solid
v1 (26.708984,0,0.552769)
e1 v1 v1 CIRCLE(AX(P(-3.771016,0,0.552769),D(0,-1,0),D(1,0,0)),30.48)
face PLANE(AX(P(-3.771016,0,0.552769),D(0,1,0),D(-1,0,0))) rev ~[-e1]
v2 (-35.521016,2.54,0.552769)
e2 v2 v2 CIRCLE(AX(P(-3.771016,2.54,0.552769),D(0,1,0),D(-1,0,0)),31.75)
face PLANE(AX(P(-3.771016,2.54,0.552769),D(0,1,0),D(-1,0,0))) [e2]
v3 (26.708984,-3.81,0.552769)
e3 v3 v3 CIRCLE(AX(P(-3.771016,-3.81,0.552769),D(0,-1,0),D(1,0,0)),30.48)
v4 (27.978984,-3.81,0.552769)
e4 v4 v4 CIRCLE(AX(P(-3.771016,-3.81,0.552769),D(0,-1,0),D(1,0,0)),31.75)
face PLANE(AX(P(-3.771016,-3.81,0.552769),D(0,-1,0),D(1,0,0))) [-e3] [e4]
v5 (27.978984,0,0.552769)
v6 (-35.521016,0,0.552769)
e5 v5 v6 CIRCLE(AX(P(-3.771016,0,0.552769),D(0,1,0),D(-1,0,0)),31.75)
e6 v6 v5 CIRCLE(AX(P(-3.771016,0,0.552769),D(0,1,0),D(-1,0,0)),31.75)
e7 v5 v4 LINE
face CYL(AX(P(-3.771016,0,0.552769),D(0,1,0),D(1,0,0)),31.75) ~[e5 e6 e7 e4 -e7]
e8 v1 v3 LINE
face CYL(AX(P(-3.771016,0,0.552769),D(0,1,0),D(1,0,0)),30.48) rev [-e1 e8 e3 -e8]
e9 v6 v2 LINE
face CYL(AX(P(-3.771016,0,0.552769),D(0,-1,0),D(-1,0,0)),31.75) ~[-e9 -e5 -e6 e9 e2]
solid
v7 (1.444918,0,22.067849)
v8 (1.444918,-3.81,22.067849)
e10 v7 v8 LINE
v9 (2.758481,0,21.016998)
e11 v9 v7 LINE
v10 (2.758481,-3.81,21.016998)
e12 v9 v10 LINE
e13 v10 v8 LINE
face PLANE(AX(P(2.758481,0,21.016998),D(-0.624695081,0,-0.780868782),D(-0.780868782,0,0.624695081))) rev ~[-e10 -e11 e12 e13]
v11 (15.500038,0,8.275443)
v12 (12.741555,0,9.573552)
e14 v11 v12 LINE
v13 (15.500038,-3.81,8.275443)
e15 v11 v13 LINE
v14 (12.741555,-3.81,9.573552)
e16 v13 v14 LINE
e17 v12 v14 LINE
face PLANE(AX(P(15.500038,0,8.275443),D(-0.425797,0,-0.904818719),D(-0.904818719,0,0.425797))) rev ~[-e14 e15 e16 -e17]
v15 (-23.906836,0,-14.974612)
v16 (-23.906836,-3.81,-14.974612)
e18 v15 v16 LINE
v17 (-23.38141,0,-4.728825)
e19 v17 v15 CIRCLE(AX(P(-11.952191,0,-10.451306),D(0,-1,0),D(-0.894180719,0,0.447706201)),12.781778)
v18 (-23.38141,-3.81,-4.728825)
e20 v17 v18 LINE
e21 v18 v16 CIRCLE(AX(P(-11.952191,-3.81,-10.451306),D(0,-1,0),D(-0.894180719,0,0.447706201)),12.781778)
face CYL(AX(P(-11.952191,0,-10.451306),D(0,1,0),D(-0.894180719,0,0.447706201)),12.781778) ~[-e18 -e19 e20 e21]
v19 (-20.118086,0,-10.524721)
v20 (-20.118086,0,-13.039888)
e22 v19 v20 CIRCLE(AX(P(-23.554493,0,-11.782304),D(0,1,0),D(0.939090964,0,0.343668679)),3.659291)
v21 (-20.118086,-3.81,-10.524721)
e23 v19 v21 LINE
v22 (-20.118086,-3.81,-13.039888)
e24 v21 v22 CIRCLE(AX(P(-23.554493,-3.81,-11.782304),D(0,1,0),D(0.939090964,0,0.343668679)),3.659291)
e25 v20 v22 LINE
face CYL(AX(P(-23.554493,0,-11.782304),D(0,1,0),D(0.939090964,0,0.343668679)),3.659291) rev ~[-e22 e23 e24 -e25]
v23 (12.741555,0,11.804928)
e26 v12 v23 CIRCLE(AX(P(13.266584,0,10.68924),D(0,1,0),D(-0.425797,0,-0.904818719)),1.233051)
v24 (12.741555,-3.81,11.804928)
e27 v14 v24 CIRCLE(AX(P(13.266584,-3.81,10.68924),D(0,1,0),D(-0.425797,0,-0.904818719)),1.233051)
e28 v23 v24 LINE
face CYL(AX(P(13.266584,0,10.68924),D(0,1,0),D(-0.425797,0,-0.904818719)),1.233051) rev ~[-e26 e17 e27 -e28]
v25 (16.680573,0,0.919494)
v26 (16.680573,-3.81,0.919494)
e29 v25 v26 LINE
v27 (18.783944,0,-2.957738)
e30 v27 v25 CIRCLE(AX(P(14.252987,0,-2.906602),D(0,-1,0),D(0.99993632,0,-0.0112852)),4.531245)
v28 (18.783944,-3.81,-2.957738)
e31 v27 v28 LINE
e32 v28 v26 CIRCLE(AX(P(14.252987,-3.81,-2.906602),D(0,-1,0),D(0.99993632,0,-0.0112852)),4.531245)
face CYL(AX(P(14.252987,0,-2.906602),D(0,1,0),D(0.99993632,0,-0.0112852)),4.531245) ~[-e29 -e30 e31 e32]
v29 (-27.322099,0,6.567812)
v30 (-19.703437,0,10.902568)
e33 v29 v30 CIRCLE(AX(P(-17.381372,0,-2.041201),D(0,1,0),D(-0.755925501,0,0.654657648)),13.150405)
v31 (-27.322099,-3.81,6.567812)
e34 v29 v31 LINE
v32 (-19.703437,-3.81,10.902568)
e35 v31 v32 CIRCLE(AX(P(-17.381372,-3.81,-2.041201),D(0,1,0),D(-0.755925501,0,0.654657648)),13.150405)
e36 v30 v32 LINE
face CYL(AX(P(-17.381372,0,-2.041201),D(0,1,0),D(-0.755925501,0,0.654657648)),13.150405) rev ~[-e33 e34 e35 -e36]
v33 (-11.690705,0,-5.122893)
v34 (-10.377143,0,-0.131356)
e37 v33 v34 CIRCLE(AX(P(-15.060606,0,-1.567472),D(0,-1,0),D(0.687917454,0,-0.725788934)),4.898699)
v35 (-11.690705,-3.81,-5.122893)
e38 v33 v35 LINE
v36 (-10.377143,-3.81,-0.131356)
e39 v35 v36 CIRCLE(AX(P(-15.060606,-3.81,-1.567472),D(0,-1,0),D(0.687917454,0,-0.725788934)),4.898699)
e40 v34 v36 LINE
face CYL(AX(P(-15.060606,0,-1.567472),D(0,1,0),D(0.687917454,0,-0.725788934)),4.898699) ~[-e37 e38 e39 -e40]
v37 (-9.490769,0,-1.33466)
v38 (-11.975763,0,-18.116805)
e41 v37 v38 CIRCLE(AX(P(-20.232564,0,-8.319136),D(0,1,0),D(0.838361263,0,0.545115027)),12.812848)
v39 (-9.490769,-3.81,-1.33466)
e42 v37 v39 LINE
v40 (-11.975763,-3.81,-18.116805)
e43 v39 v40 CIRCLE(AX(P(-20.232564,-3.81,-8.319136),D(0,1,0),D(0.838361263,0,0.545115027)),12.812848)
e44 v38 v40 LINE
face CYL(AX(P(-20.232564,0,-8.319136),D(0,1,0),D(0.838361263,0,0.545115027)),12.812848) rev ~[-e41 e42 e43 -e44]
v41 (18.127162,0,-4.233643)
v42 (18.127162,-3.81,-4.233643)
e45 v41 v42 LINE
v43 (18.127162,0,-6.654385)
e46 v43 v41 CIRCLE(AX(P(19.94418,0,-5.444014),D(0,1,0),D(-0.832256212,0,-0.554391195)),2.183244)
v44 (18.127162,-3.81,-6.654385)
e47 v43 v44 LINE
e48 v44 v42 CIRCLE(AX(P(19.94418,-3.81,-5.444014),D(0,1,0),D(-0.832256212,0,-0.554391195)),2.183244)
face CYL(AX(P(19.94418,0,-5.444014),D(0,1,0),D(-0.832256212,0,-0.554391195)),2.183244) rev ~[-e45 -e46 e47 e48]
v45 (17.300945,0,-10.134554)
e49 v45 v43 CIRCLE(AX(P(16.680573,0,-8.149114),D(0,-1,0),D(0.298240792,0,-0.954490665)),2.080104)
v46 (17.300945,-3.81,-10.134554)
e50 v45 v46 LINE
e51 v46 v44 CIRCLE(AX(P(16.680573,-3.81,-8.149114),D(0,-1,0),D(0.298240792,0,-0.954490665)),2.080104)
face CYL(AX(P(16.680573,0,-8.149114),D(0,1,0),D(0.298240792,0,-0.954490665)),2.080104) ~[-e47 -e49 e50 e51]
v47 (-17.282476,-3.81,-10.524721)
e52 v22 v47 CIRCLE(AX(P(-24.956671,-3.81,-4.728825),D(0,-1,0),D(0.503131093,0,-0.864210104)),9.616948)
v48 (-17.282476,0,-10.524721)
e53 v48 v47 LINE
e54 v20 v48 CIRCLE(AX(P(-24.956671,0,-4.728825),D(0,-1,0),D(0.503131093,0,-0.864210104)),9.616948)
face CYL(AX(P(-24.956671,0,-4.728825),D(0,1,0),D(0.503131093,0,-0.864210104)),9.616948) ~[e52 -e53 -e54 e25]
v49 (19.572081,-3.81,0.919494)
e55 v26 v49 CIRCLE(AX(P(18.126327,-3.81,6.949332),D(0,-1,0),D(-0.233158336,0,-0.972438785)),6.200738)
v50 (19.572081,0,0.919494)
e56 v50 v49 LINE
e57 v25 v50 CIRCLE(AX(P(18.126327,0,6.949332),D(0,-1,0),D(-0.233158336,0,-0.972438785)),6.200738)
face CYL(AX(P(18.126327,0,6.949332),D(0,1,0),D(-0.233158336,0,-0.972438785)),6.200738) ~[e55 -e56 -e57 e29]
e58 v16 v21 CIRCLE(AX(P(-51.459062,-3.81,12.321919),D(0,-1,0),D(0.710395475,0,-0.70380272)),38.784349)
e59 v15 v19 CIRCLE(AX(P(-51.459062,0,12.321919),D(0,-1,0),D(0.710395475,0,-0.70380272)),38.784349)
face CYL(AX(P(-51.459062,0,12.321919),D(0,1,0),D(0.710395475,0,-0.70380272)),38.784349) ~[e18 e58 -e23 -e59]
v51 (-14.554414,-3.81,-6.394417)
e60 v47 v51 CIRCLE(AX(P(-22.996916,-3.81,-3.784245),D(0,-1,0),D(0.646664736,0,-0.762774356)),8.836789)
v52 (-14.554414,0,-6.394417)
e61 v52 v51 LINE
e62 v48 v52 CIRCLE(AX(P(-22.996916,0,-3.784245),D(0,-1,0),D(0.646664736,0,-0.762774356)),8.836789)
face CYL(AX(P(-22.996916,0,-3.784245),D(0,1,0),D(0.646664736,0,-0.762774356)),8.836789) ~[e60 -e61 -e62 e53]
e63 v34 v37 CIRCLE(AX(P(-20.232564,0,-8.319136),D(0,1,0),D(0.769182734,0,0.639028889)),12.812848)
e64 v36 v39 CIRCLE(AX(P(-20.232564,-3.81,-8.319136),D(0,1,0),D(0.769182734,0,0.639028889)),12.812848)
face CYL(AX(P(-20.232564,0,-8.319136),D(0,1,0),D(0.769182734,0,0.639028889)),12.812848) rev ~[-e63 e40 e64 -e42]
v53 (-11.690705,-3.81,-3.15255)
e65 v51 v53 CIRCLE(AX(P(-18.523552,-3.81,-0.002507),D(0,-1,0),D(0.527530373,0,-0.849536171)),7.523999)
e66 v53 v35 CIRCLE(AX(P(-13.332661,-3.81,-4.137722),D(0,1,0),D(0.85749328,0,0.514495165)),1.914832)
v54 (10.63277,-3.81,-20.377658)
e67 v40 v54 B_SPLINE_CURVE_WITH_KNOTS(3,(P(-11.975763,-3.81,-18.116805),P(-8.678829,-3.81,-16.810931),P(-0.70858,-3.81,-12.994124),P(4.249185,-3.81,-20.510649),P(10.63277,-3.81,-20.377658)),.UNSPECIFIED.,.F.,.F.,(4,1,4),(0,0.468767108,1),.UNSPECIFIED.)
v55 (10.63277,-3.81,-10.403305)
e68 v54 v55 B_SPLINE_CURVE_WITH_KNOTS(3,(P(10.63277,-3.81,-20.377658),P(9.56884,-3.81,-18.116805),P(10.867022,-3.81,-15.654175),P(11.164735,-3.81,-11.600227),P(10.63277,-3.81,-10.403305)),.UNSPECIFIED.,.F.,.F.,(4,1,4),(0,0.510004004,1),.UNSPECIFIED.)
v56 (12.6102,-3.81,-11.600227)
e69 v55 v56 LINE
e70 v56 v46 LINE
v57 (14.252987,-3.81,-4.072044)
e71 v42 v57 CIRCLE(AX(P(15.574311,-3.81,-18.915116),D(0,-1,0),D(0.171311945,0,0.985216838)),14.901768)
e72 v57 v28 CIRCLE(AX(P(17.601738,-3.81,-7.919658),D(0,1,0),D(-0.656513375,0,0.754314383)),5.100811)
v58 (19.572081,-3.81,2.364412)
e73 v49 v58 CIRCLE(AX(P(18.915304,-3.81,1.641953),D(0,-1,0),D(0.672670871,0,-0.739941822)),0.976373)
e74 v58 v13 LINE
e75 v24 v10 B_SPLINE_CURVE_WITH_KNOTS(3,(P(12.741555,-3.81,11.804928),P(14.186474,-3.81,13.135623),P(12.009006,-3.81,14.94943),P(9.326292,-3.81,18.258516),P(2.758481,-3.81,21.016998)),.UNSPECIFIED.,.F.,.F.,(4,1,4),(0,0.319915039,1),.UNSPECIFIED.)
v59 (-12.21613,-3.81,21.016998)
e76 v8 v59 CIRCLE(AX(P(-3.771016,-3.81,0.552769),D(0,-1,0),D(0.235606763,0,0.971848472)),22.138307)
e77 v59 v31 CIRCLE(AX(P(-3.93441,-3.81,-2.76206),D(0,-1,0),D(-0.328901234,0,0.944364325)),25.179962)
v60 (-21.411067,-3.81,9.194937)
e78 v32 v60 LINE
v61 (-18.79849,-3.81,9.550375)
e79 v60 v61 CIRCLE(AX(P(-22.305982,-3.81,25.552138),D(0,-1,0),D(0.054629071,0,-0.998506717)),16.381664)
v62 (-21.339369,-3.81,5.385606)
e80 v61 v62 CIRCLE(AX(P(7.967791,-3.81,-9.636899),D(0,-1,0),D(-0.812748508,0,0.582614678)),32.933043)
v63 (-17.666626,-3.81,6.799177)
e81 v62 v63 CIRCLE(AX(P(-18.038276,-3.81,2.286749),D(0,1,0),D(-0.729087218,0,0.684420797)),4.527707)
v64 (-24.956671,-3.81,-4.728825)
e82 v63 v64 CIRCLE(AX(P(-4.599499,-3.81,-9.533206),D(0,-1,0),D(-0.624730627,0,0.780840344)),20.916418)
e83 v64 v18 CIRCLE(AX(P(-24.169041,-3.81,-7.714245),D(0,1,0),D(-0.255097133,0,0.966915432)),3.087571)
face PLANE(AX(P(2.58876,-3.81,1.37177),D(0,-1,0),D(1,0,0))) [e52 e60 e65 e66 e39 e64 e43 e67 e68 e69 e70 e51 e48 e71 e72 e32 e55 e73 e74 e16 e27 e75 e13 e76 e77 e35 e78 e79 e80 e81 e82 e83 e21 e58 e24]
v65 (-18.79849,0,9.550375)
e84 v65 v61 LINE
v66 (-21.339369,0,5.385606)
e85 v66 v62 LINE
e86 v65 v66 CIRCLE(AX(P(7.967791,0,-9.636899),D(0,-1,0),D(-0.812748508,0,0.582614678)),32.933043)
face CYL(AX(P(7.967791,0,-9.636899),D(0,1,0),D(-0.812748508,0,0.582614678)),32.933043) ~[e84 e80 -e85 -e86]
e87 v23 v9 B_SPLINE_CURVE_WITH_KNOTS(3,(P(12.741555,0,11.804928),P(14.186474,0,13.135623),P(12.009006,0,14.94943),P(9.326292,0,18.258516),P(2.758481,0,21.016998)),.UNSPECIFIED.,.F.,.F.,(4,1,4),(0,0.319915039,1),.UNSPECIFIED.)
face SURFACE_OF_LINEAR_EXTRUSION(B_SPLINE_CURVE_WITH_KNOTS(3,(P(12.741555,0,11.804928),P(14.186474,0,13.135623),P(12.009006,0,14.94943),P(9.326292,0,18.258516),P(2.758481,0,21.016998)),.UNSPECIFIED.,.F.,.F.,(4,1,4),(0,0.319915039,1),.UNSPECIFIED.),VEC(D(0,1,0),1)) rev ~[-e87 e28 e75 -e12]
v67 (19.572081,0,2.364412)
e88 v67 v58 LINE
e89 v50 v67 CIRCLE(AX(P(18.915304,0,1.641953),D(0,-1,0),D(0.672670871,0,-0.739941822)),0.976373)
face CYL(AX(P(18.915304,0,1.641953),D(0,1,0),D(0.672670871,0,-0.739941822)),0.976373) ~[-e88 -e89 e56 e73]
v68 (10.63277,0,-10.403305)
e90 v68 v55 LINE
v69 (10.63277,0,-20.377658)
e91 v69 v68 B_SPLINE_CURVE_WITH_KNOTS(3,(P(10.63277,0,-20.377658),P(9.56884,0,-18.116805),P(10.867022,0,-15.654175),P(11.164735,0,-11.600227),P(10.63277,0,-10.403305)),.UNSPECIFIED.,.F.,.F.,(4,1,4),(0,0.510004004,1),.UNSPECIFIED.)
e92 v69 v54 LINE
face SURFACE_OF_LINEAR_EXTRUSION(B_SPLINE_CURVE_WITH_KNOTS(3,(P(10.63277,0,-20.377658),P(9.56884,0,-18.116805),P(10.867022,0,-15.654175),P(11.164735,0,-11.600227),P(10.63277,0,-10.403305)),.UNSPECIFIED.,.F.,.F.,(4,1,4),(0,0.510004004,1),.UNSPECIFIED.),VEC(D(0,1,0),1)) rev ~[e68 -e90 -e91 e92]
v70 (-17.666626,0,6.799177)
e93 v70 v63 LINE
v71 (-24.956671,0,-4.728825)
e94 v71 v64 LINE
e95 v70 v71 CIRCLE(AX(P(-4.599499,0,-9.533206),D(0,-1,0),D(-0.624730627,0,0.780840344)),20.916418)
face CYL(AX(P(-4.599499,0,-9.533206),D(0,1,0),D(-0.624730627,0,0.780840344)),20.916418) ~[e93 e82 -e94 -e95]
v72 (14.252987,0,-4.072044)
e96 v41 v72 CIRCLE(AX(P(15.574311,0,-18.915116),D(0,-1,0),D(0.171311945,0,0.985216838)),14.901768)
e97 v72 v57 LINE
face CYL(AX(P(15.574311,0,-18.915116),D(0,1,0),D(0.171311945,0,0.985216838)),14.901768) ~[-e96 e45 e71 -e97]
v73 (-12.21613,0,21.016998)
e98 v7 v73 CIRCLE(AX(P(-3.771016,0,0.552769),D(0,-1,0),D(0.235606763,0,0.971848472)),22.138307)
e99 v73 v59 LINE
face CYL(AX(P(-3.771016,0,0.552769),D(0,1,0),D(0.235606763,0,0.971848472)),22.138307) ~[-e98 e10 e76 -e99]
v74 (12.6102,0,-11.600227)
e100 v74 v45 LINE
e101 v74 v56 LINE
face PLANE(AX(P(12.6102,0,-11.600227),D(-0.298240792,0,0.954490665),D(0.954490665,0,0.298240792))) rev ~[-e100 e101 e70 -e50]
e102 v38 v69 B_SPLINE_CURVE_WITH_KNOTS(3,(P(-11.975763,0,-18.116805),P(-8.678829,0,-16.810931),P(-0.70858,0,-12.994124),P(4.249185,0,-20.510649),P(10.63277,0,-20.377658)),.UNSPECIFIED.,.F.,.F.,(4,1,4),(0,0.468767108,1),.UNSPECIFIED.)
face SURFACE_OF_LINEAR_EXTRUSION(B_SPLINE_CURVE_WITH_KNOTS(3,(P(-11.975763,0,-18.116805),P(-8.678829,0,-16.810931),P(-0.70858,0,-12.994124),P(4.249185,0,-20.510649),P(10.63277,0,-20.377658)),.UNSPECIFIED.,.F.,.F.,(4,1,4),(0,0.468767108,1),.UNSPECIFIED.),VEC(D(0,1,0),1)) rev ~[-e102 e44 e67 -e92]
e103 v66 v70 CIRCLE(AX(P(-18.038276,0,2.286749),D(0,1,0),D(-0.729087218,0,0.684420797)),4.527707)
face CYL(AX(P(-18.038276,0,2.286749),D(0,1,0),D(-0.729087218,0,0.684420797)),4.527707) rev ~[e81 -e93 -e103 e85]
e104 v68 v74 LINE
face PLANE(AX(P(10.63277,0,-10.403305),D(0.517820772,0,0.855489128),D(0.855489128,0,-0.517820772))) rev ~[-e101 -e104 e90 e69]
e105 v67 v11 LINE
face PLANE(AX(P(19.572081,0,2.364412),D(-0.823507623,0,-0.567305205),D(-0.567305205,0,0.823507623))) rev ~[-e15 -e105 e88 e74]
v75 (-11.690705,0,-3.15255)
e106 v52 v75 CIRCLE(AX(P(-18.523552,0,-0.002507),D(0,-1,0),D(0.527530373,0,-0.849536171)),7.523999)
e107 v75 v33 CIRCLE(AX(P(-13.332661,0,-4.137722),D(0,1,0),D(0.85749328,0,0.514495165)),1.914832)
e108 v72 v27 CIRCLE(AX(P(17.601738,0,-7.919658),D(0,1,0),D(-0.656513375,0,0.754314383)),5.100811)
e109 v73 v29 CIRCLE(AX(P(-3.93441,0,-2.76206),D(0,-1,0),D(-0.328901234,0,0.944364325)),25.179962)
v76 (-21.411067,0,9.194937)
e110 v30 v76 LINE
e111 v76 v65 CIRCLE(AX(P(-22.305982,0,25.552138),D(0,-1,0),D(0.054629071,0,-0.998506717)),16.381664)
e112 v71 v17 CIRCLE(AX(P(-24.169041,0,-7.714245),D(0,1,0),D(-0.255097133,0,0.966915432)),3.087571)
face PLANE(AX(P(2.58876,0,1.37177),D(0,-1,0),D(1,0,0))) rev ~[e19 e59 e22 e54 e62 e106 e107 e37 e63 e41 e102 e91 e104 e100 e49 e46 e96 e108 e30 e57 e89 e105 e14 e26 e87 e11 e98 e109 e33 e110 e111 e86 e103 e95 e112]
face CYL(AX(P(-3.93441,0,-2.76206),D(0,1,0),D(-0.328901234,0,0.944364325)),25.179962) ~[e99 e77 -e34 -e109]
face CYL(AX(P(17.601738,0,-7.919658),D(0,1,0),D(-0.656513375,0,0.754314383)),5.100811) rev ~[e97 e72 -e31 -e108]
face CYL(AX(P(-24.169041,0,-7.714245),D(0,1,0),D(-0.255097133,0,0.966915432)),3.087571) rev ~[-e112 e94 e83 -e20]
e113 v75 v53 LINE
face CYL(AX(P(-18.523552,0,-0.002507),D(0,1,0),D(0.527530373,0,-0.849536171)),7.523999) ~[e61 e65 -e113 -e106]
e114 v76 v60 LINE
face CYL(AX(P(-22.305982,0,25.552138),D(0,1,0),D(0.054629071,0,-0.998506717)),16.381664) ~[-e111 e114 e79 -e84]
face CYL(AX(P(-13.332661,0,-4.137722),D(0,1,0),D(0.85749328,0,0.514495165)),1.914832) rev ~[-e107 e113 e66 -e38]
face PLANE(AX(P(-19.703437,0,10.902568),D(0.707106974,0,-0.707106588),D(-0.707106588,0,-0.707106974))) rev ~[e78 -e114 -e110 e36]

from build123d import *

# Parameters (mm, degrees)
F1_DEPTH = 3.81
F2_R     = 31.75
F3_DEPTH = 2.54
F4_R     = 31.75
F4_R_2   = 30.48
F5_DEPTH = 3.81


with BuildPart() as f1:
    # F0 (on Front) → F1 (new body)
    with BuildSketch(Plane.XZ):
        with BuildLine():
            ThreePointArc((-9.490768629, -1.3346602329), (-7.5579138004, -10.1959187454), (-11.9757633656, -18.1168047711))
            add(Edge.make_bspline(
                [(-11.9757633656, -18.1168047711), (-8.6788288468, -16.8109305471), (-0.7085798365, -12.9941242591), (4.2491846252, -20.5106493086), (10.632770136, -20.3776583076)],
                knots=[0, 0, 0, 0, 0.4687671078, 1, 1, 1, 1], degree=3))
            add(Edge.make_bspline(
                [(10.632770136, -20.3776583076), (9.5688402653, -18.1168047711), (10.8670221827, -15.6541750534), (11.1647350714, -11.6002270952), (10.632770136, -10.4033045936)],
                knots=[0, 0, 0, 0, 0.5100040037, 1, 1, 1, 1], degree=3))
            Line((10.632770136, -10.4033045936), (12.6101998612, -11.6002270952))
            Line((12.6101998612, -11.6002270952), (17.3009453116, -10.1345536336))
            ThreePointArc((17.3009453116, -10.1345536336), (18.7044248726, -8.6295905373), (18.1271620095, -6.6543851337))
            ThreePointArc((18.1271620095, -6.6543851337), (17.7609364545, -5.4440140925), (18.1271620095, -4.2336430513))
            ThreePointArc((18.1271620095, -4.2336430513), (16.1953531955, -4.0262946088), (14.2529871893, -4.0720435791))
            ThreePointArc((14.2529871893, -4.0720435791), (16.3835840937, -2.966440153), (18.7839437276, -2.9577376776))
            ThreePointArc((18.7839437276, -2.9577376776), (18.2358957511, -0.745902377), (16.6805734693, 0.9194938466))
            ThreePointArc((16.6805734693, 0.9194938466), (18.1263272568, 0.7485939687), (19.5720810443, 0.9194938466))
            ThreePointArc((19.5720810443, 0.9194938466), (19.8916762952, 1.6419528984), (19.5720810443, 2.3644119501))
            Line((19.5720810443, 2.3644119501), (15.5000379309, 8.2754427567))
            Line((15.5000379309, 8.2754427567), (12.7415545285, 9.5735524578))
            ThreePointArc((12.7415545285, 9.5735524578), (12.0335327597, 10.6892403766), (12.7415545285, 11.8049282954))
            add(Edge.make_bspline(
                [(12.7415545285, 11.8049282954), (14.1864735633, 13.1356231868), (12.0090058877, 14.9494300325), (9.3262922019, 18.2585157454), (2.758481307, 21.0169982165)],
                knots=[0, 0, 0, 0, 0.319915039, 1, 1, 1, 1], degree=3))
            Line((2.758481307, 21.0169982165), (1.4449184528, 22.067848593))
            ThreePointArc((1.4449184528, 22.067848593), (-5.4689477613, 22.6258669897), (-12.2161302716, 21.0169982165))
            ThreePointArc((-12.2161302716, 21.0169982165), (-9.0028375656, 21.108873418), (-5.9110308066, 20.2288608998))
            ThreePointArc((-5.9110308066, 20.2288608998), (-5.2455840138, 15.8889747559), (-3.0211936682, 12.103539673))
            Line((-3.0211936682, 12.103539673), (-2.7584815398, 8.9322244748))
            ThreePointArc((-2.7584815398, 8.9322244748), (-4.6246008318, 9.3548412144), (-5.9110308066, 10.7712112367))
            ThreePointArc((-5.9110308066, 10.7712112367), (-5.2226948374, 8.8923289621), (-3.9406875148, 7.3559493758))
            ThreePointArc((-3.9406875148, 7.3559493758), (-5.2100932333, 6.3710945105), (-5.3856056184, 4.7740580718))
            ThreePointArc((-5.3856056184, 4.7740580718), (-7.4024444819, 5.8251218986), (-8.800867945, 7.6186619699))
            ThreePointArc((-8.800867945, 7.6186619699), (-8.2937158366, 4.7740580718), (-6.6991681233, 2.3644124158))
            Line((-6.6991681233, 2.3644124158), (-9.490768629, -1.3346602329))
        make_face()
        with BuildLine():
            ThreePointArc((-10.3771425784, -0.1313562243), (-9.9163961048, -0.7200736067), (-9.490768629, -1.3346602329))
            Line((-9.490768629, -1.3346602329), (-6.6991681233, 2.3644124158))
            ThreePointArc((-6.6991681233, 2.3644124158), (-8.2937158366, 4.7740580718), (-8.800867945, 7.6186619699))
            ThreePointArc((-8.800867945, 7.6186619699), (-7.4024444819, 5.8251218986), (-5.3856056184, 4.7740580718))
            ThreePointArc((-5.3856056184, 4.7740580718), (-5.2100932333, 6.3710945105), (-3.9406875148, 7.3559493758))
            ThreePointArc((-3.9406875148, 7.3559493758), (-5.2226948374, 8.8923289621), (-5.9110308066, 10.7712112367))
            ThreePointArc((-5.9110308066, 10.7712112367), (-4.6246008318, 9.3548412144), (-2.7584815398, 8.9322244748))
            Line((-2.7584815398, 8.9322244748), (-3.0211936682, 12.103539673))
            ThreePointArc((-3.0211936682, 12.103539673), (-5.2455840138, 15.8889747559), (-5.9110308066, 20.2288608998))
            ThreePointArc((-5.9110308066, 20.2288608998), (-7.598774869, 16.7427838954), (-10.5084991083, 14.1864744946))
            ThreePointArc((-10.5084991083, 14.1864744946), (-14.310113243, 11.2544111439), (-18.7984901373, 9.5503752357))
            ThreePointArc((-18.7984901373, 9.5503752357), (-20.1461563966, 7.5151055238), (-21.3393694118, 5.3856056184))
            ThreePointArc((-21.3393694118, 5.3856056184), (-19.6646079386, 6.5122872739), (-17.6666259792, 6.799176861))
            ThreePointArc((-17.6666259792, 6.799176861), (-22.2777243118, 1.6461002584), (-24.9566711947, -4.7288248315))
            ThreePointArc((-24.9566711947, -4.7288248315), (-24.1690406807, -4.6266738785), (-23.3814101666, -4.7288248315))
            ThreePointArc((-23.3814101666, -4.7288248315), (-24.7171946121, -9.7966888996), (-23.9068362862, -14.9746118113))
            ThreePointArc((-23.9068362862, -14.9746118113), (-21.9285237695, -12.8211326146), (-20.1180858814, -10.5247206922))
            ThreePointArc((-20.1180858814, -10.5247206922), (-19.8952019997, -11.7823043694), (-20.1180858814, -13.0398880467))
            ThreePointArc((-20.1180858814, -13.0398880467), (-18.5751404017, -11.9233883582), (-17.2824760725, -10.5247206922))
            ThreePointArc((-17.2824760725, -10.5247206922), (-15.6233412168, -8.6544844694), (-14.5544138715, -6.3944166985))
            ThreePointArc((-14.5544138715, -6.3944166985), (-12.8845675565, -4.9837137902), (-11.6907050833, -3.1525497325))
            ThreePointArc((-11.6907050833, -3.1525497325), (-11.4178286352, -4.1377216112), (-11.6907050833, -5.1228934899))
            ThreePointArc((-11.6907050833, -5.1228934899), (-10.3231984381, -2.8141578647), (-10.3771425784, -0.1313562243))
        make_face()
        with BuildLine():
            ThreePointArc((-10.5084991083, 14.1864744946), (-7.598774869, 16.7427838954), (-5.9110308066, 20.2288608998))
            ThreePointArc((-5.9110308066, 20.2288608998), (-9.0028375656, 21.108873418), (-12.2161302716, 21.0169982165))
            ThreePointArc((-12.2161302716, 21.0169982165), (-21.3393694118, 15.4340351557), (-27.3220986128, 6.5678115934))
            ThreePointArc((-27.3220986128, 6.5678115934), (-23.8845666313, 9.3886545614), (-19.7034366429, 10.9025677666))
            Line((-19.7034366429, 10.9025677666), (-21.4110668749, 9.1949366033))
            ThreePointArc((-21.4110668749, 9.1949366033), (-20.0976158669, 9.3200084503), (-18.7984901373, 9.5503752357))
            ThreePointArc((-18.7984901373, 9.5503752357), (-14.310113243, 11.2544111439), (-10.5084991083, 14.1864744946))
        make_face()
    extrude(amount=F1_DEPTH)


with BuildPart() as f3:
    # F2 (on face) → F3 (new body)
    with BuildSketch(Plane(origin=(0, 0, 0), x_dir=(-1, 0, 0), z_dir=(0, 1, 0))):
        with Locations((3.7710163716, 0.5527688936)):
            Circle(F2_R)
        with BuildLine():
            Line((-15.5000379309, 8.2754427567), (-12.7415545285, 9.5735524578))
            ThreePointArc((-12.7415545285, 9.5735524578), (-12.0335327597, 10.6892403766), (-12.7415545285, 11.8049282954))
            add(Edge.make_bspline(
                [(-12.7415545285, 11.8049282954), (-14.1864735633, 13.1356231868), (-12.0090058877, 14.9494300325), (-9.3262922019, 18.2585157454), (-2.758481307, 21.0169982165)],
                knots=[0, 0, 0, 0, 0.319915039, 1, 1, 1, 1], degree=3))
            Line((-2.758481307, 21.0169982165), (-1.4449184528, 22.067848593))
            ThreePointArc((-1.4449184528, 22.067848593), (5.4689477613, 22.6258669897), (12.2161302716, 21.0169982165))
            ThreePointArc((12.2161302716, 21.0169982165), (21.3393694118, 15.4340351557), (27.3220986128, 6.5678115934))
            ThreePointArc((27.3220986128, 6.5678115934), (23.8845666313, 9.3886545614), (19.7034366429, 10.9025677666))
            Line((19.7034366429, 10.9025677666), (21.4110668749, 9.1949366033))
            ThreePointArc((21.4110668749, 9.1949366033), (20.0976158669, 9.3200084503), (18.7984901373, 9.5503752357))
            ThreePointArc((18.7984901373, 9.5503752357), (20.1461563966, 7.5151055238), (21.3393694118, 5.3856056184))
            ThreePointArc((21.3393694118, 5.3856056184), (19.6646079386, 6.5122872739), (17.6666259792, 6.799176861))
            ThreePointArc((17.6666259792, 6.799176861), (22.2777243118, 1.6461002584), (24.9566711947, -4.7288248315))
            ThreePointArc((24.9566711947, -4.7288248315), (24.1690406807, -4.6266738785), (23.3814101666, -4.7288248315))
            ThreePointArc((23.3814101666, -4.7288248315), (24.7171946121, -9.7966888996), (23.9068362862, -14.9746118113))
            ThreePointArc((23.9068362862, -14.9746118113), (21.9285237695, -12.8211326146), (20.1180858814, -10.5247206922))
            ThreePointArc((20.1180858814, -10.5247206922), (19.8952019997, -11.7823043694), (20.1180858814, -13.0398880467))
            ThreePointArc((20.1180858814, -13.0398880467), (18.5751404017, -11.9233883582), (17.2824760725, -10.5247206922))
            ThreePointArc((17.2824760725, -10.5247206922), (15.6233412168, -8.6544844694), (14.5544138715, -6.3944166985))
            ThreePointArc((14.5544138715, -6.3944166985), (12.8845675565, -4.9837137902), (11.6907050833, -3.1525497325))
            ThreePointArc((11.6907050833, -3.1525497325), (11.4178286352, -4.1377216112), (11.6907050833, -5.1228934899))
            ThreePointArc((11.6907050833, -5.1228934899), (10.3231984381, -2.8141578647), (10.3771425784, -0.1313562243))
            ThreePointArc((10.3771425784, -0.1313562243), (7.4700314009, -9.4535225216), (11.9757633656, -18.1168047711))
            add(Edge.make_bspline(
                [(11.9757633656, -18.1168047711), (8.6788288468, -16.8109305471), (0.7085798365, -12.9941242591), (-4.2491846252, -20.5106493086), (-10.632770136, -20.3776583076)],
                knots=[0, 0, 0, 0, 0.4687671078, 1, 1, 1, 1], degree=3))
            add(Edge.make_bspline(
                [(-10.632770136, -20.3776583076), (-9.5688402653, -18.1168047711), (-10.8670221827, -15.6541750534), (-11.1647350714, -11.6002270952), (-10.632770136, -10.4033045936)],
                knots=[0, 0, 0, 0, 0.5100040037, 1, 1, 1, 1], degree=3))
            Line((-10.632770136, -10.4033045936), (-12.6101998612, -11.6002270952))
            Line((-12.6101998612, -11.6002270952), (-17.3009453116, -10.1345536336))
            ThreePointArc((-17.3009453116, -10.1345536336), (-18.7044248726, -8.6295905373), (-18.1271620095, -6.6543851337))
            ThreePointArc((-18.1271620095, -6.6543851337), (-17.7609364545, -5.4440140925), (-18.1271620095, -4.2336430513))
            ThreePointArc((-18.1271620095, -4.2336430513), (-16.1953531955, -4.0262946088), (-14.2529871893, -4.0720435791))
            ThreePointArc((-14.2529871893, -4.0720435791), (-16.3835840937, -2.966440153), (-18.7839437276, -2.9577376776))
            ThreePointArc((-18.7839437276, -2.9577376776), (-18.2358957511, -0.745902377), (-16.6805734693, 0.9194938466))
            ThreePointArc((-16.6805734693, 0.9194938466), (-18.1263272568, 0.7485939687), (-19.5720810443, 0.9194938466))
            ThreePointArc((-19.5720810443, 0.9194938466), (-19.8916762952, 1.6419528984), (-19.5720810443, 2.3644119501))
            Line((-19.5720810443, 2.3644119501), (-15.5000379309, 8.2754427567))
        make_face(mode=Mode.SUBTRACT)
        with BuildLine():
            ThreePointArc((-12.7415545285, 11.8049282954), (-12.0335327597, 10.6892403766), (-12.7415545285, 9.5735524578))
            Line((-12.7415545285, 9.5735524578), (-15.5000379309, 8.2754427567))
            Line((-15.5000379309, 8.2754427567), (-19.5720810443, 2.3644119501))
            ThreePointArc((-19.5720810443, 2.3644119501), (-19.8916762952, 1.6419528984), (-19.5720810443, 0.9194938466))
            ThreePointArc((-19.5720810443, 0.9194938466), (-18.1263272568, 0.7485939687), (-16.6805734693, 0.9194938466))
            ThreePointArc((-16.6805734693, 0.9194938466), (-18.2358957511, -0.745902377), (-18.7839437276, -2.9577376776))
            ThreePointArc((-18.7839437276, -2.9577376776), (-16.3835840937, -2.966440153), (-14.2529871893, -4.0720435791))
            ThreePointArc((-14.2529871893, -4.0720435791), (-16.1953531955, -4.0262946088), (-18.1271620095, -4.2336430513))
            ThreePointArc((-18.1271620095, -4.2336430513), (-17.7609364545, -5.4440140925), (-18.1271620095, -6.6543851337))
            ThreePointArc((-18.1271620095, -6.6543851337), (-18.7044248726, -8.6295905373), (-17.3009453116, -10.1345536336))
            Line((-17.3009453116, -10.1345536336), (-12.6101998612, -11.6002270952))
            Line((-12.6101998612, -11.6002270952), (-10.632770136, -10.4033045936))
            add(Edge.make_bspline(
                [(-10.632770136, -20.3776583076), (-9.5688402653, -18.1168047711), (-10.8670221827, -15.6541750534), (-11.1647350714, -11.6002270952), (-10.632770136, -10.4033045936)],
                knots=[0, 0, 0, 0, 0.5100040037, 1, 1, 1, 1], degree=3))
            add(Edge.make_bspline(
                [(11.9757633656, -18.1168047711), (8.6788288468, -16.8109305471), (0.7085798365, -12.9941242591), (-4.2491846252, -20.5106493086), (-10.632770136, -20.3776583076)],
                knots=[0, 0, 0, 0, 0.4687671078, 1, 1, 1, 1], degree=3))
            ThreePointArc((11.9757633656, -18.1168047711), (7.4700314009, -9.4535225216), (10.3771425784, -0.1313562243))
            ThreePointArc((10.3771425784, -0.1313562243), (10.3231984381, -2.8141578647), (11.6907050833, -5.1228934899))
            ThreePointArc((11.6907050833, -5.1228934899), (11.4178286352, -4.1377216112), (11.6907050833, -3.1525497325))
            ThreePointArc((11.6907050833, -3.1525497325), (12.8845675565, -4.9837137902), (14.5544138715, -6.3944166985))
            ThreePointArc((14.5544138715, -6.3944166985), (15.6233412168, -8.6544844694), (17.2824760725, -10.5247206922))
            ThreePointArc((17.2824760725, -10.5247206922), (18.5751404017, -11.9233883582), (20.1180858814, -13.0398880467))
            ThreePointArc((20.1180858814, -13.0398880467), (19.8952019997, -11.7823043694), (20.1180858814, -10.5247206922))
            ThreePointArc((20.1180858814, -10.5247206922), (21.9285237695, -12.8211326146), (23.9068362862, -14.9746118113))
            ThreePointArc((23.9068362862, -14.9746118113), (24.7171946121, -9.7966888996), (23.3814101666, -4.7288248315))
            ThreePointArc((23.3814101666, -4.7288248315), (24.1690406807, -4.6266738785), (24.9566711947, -4.7288248315))
            ThreePointArc((24.9566711947, -4.7288248315), (22.2777243118, 1.6461002584), (17.6666259792, 6.799176861))
            ThreePointArc((17.6666259792, 6.799176861), (19.6646079386, 6.5122872739), (21.3393694118, 5.3856056184))
            ThreePointArc((21.3393694118, 5.3856056184), (20.1461563966, 7.5151055238), (18.7984901373, 9.5503752357))
            ThreePointArc((18.7984901373, 9.5503752357), (20.0976158669, 9.3200084503), (21.4110668749, 9.1949366033))
            Line((21.4110668749, 9.1949366033), (19.7034366429, 10.9025677666))
            ThreePointArc((19.7034366429, 10.9025677666), (23.8845666313, 9.3886545614), (27.3220986128, 6.5678115934))
            ThreePointArc((27.3220986128, 6.5678115934), (21.3393694118, 15.4340351557), (12.2161302716, 21.0169982165))
            ThreePointArc((12.2161302716, 21.0169982165), (5.4689477613, 22.6258669897), (-1.4449184528, 22.067848593))
            Line((-1.4449184528, 22.067848593), (-2.758481307, 21.0169982165))
            add(Edge.make_bspline(
                [(-12.7415545285, 11.8049282954), (-14.1864735633, 13.1356231868), (-12.0090058877, 14.9494300325), (-9.3262922019, 18.2585157454), (-2.758481307, 21.0169982165)],
                knots=[0, 0, 0, 0, 0.319915039, 1, 1, 1, 1], degree=3))
        make_face()
    extrude(amount=F3_DEPTH)

    # F4 (on face) → F5 (join)
    with BuildSketch(Plane.XZ):
        with Locations((-3.7710163716, 0.5527688936)):
            Circle(F4_R)
        with Locations((-3.7710163716, 0.5527688936)):
            Circle(F4_R_2, mode=Mode.SUBTRACT)
    extrude(amount=F5_DEPTH)


solid = Compound([f1.part, f3.part])
